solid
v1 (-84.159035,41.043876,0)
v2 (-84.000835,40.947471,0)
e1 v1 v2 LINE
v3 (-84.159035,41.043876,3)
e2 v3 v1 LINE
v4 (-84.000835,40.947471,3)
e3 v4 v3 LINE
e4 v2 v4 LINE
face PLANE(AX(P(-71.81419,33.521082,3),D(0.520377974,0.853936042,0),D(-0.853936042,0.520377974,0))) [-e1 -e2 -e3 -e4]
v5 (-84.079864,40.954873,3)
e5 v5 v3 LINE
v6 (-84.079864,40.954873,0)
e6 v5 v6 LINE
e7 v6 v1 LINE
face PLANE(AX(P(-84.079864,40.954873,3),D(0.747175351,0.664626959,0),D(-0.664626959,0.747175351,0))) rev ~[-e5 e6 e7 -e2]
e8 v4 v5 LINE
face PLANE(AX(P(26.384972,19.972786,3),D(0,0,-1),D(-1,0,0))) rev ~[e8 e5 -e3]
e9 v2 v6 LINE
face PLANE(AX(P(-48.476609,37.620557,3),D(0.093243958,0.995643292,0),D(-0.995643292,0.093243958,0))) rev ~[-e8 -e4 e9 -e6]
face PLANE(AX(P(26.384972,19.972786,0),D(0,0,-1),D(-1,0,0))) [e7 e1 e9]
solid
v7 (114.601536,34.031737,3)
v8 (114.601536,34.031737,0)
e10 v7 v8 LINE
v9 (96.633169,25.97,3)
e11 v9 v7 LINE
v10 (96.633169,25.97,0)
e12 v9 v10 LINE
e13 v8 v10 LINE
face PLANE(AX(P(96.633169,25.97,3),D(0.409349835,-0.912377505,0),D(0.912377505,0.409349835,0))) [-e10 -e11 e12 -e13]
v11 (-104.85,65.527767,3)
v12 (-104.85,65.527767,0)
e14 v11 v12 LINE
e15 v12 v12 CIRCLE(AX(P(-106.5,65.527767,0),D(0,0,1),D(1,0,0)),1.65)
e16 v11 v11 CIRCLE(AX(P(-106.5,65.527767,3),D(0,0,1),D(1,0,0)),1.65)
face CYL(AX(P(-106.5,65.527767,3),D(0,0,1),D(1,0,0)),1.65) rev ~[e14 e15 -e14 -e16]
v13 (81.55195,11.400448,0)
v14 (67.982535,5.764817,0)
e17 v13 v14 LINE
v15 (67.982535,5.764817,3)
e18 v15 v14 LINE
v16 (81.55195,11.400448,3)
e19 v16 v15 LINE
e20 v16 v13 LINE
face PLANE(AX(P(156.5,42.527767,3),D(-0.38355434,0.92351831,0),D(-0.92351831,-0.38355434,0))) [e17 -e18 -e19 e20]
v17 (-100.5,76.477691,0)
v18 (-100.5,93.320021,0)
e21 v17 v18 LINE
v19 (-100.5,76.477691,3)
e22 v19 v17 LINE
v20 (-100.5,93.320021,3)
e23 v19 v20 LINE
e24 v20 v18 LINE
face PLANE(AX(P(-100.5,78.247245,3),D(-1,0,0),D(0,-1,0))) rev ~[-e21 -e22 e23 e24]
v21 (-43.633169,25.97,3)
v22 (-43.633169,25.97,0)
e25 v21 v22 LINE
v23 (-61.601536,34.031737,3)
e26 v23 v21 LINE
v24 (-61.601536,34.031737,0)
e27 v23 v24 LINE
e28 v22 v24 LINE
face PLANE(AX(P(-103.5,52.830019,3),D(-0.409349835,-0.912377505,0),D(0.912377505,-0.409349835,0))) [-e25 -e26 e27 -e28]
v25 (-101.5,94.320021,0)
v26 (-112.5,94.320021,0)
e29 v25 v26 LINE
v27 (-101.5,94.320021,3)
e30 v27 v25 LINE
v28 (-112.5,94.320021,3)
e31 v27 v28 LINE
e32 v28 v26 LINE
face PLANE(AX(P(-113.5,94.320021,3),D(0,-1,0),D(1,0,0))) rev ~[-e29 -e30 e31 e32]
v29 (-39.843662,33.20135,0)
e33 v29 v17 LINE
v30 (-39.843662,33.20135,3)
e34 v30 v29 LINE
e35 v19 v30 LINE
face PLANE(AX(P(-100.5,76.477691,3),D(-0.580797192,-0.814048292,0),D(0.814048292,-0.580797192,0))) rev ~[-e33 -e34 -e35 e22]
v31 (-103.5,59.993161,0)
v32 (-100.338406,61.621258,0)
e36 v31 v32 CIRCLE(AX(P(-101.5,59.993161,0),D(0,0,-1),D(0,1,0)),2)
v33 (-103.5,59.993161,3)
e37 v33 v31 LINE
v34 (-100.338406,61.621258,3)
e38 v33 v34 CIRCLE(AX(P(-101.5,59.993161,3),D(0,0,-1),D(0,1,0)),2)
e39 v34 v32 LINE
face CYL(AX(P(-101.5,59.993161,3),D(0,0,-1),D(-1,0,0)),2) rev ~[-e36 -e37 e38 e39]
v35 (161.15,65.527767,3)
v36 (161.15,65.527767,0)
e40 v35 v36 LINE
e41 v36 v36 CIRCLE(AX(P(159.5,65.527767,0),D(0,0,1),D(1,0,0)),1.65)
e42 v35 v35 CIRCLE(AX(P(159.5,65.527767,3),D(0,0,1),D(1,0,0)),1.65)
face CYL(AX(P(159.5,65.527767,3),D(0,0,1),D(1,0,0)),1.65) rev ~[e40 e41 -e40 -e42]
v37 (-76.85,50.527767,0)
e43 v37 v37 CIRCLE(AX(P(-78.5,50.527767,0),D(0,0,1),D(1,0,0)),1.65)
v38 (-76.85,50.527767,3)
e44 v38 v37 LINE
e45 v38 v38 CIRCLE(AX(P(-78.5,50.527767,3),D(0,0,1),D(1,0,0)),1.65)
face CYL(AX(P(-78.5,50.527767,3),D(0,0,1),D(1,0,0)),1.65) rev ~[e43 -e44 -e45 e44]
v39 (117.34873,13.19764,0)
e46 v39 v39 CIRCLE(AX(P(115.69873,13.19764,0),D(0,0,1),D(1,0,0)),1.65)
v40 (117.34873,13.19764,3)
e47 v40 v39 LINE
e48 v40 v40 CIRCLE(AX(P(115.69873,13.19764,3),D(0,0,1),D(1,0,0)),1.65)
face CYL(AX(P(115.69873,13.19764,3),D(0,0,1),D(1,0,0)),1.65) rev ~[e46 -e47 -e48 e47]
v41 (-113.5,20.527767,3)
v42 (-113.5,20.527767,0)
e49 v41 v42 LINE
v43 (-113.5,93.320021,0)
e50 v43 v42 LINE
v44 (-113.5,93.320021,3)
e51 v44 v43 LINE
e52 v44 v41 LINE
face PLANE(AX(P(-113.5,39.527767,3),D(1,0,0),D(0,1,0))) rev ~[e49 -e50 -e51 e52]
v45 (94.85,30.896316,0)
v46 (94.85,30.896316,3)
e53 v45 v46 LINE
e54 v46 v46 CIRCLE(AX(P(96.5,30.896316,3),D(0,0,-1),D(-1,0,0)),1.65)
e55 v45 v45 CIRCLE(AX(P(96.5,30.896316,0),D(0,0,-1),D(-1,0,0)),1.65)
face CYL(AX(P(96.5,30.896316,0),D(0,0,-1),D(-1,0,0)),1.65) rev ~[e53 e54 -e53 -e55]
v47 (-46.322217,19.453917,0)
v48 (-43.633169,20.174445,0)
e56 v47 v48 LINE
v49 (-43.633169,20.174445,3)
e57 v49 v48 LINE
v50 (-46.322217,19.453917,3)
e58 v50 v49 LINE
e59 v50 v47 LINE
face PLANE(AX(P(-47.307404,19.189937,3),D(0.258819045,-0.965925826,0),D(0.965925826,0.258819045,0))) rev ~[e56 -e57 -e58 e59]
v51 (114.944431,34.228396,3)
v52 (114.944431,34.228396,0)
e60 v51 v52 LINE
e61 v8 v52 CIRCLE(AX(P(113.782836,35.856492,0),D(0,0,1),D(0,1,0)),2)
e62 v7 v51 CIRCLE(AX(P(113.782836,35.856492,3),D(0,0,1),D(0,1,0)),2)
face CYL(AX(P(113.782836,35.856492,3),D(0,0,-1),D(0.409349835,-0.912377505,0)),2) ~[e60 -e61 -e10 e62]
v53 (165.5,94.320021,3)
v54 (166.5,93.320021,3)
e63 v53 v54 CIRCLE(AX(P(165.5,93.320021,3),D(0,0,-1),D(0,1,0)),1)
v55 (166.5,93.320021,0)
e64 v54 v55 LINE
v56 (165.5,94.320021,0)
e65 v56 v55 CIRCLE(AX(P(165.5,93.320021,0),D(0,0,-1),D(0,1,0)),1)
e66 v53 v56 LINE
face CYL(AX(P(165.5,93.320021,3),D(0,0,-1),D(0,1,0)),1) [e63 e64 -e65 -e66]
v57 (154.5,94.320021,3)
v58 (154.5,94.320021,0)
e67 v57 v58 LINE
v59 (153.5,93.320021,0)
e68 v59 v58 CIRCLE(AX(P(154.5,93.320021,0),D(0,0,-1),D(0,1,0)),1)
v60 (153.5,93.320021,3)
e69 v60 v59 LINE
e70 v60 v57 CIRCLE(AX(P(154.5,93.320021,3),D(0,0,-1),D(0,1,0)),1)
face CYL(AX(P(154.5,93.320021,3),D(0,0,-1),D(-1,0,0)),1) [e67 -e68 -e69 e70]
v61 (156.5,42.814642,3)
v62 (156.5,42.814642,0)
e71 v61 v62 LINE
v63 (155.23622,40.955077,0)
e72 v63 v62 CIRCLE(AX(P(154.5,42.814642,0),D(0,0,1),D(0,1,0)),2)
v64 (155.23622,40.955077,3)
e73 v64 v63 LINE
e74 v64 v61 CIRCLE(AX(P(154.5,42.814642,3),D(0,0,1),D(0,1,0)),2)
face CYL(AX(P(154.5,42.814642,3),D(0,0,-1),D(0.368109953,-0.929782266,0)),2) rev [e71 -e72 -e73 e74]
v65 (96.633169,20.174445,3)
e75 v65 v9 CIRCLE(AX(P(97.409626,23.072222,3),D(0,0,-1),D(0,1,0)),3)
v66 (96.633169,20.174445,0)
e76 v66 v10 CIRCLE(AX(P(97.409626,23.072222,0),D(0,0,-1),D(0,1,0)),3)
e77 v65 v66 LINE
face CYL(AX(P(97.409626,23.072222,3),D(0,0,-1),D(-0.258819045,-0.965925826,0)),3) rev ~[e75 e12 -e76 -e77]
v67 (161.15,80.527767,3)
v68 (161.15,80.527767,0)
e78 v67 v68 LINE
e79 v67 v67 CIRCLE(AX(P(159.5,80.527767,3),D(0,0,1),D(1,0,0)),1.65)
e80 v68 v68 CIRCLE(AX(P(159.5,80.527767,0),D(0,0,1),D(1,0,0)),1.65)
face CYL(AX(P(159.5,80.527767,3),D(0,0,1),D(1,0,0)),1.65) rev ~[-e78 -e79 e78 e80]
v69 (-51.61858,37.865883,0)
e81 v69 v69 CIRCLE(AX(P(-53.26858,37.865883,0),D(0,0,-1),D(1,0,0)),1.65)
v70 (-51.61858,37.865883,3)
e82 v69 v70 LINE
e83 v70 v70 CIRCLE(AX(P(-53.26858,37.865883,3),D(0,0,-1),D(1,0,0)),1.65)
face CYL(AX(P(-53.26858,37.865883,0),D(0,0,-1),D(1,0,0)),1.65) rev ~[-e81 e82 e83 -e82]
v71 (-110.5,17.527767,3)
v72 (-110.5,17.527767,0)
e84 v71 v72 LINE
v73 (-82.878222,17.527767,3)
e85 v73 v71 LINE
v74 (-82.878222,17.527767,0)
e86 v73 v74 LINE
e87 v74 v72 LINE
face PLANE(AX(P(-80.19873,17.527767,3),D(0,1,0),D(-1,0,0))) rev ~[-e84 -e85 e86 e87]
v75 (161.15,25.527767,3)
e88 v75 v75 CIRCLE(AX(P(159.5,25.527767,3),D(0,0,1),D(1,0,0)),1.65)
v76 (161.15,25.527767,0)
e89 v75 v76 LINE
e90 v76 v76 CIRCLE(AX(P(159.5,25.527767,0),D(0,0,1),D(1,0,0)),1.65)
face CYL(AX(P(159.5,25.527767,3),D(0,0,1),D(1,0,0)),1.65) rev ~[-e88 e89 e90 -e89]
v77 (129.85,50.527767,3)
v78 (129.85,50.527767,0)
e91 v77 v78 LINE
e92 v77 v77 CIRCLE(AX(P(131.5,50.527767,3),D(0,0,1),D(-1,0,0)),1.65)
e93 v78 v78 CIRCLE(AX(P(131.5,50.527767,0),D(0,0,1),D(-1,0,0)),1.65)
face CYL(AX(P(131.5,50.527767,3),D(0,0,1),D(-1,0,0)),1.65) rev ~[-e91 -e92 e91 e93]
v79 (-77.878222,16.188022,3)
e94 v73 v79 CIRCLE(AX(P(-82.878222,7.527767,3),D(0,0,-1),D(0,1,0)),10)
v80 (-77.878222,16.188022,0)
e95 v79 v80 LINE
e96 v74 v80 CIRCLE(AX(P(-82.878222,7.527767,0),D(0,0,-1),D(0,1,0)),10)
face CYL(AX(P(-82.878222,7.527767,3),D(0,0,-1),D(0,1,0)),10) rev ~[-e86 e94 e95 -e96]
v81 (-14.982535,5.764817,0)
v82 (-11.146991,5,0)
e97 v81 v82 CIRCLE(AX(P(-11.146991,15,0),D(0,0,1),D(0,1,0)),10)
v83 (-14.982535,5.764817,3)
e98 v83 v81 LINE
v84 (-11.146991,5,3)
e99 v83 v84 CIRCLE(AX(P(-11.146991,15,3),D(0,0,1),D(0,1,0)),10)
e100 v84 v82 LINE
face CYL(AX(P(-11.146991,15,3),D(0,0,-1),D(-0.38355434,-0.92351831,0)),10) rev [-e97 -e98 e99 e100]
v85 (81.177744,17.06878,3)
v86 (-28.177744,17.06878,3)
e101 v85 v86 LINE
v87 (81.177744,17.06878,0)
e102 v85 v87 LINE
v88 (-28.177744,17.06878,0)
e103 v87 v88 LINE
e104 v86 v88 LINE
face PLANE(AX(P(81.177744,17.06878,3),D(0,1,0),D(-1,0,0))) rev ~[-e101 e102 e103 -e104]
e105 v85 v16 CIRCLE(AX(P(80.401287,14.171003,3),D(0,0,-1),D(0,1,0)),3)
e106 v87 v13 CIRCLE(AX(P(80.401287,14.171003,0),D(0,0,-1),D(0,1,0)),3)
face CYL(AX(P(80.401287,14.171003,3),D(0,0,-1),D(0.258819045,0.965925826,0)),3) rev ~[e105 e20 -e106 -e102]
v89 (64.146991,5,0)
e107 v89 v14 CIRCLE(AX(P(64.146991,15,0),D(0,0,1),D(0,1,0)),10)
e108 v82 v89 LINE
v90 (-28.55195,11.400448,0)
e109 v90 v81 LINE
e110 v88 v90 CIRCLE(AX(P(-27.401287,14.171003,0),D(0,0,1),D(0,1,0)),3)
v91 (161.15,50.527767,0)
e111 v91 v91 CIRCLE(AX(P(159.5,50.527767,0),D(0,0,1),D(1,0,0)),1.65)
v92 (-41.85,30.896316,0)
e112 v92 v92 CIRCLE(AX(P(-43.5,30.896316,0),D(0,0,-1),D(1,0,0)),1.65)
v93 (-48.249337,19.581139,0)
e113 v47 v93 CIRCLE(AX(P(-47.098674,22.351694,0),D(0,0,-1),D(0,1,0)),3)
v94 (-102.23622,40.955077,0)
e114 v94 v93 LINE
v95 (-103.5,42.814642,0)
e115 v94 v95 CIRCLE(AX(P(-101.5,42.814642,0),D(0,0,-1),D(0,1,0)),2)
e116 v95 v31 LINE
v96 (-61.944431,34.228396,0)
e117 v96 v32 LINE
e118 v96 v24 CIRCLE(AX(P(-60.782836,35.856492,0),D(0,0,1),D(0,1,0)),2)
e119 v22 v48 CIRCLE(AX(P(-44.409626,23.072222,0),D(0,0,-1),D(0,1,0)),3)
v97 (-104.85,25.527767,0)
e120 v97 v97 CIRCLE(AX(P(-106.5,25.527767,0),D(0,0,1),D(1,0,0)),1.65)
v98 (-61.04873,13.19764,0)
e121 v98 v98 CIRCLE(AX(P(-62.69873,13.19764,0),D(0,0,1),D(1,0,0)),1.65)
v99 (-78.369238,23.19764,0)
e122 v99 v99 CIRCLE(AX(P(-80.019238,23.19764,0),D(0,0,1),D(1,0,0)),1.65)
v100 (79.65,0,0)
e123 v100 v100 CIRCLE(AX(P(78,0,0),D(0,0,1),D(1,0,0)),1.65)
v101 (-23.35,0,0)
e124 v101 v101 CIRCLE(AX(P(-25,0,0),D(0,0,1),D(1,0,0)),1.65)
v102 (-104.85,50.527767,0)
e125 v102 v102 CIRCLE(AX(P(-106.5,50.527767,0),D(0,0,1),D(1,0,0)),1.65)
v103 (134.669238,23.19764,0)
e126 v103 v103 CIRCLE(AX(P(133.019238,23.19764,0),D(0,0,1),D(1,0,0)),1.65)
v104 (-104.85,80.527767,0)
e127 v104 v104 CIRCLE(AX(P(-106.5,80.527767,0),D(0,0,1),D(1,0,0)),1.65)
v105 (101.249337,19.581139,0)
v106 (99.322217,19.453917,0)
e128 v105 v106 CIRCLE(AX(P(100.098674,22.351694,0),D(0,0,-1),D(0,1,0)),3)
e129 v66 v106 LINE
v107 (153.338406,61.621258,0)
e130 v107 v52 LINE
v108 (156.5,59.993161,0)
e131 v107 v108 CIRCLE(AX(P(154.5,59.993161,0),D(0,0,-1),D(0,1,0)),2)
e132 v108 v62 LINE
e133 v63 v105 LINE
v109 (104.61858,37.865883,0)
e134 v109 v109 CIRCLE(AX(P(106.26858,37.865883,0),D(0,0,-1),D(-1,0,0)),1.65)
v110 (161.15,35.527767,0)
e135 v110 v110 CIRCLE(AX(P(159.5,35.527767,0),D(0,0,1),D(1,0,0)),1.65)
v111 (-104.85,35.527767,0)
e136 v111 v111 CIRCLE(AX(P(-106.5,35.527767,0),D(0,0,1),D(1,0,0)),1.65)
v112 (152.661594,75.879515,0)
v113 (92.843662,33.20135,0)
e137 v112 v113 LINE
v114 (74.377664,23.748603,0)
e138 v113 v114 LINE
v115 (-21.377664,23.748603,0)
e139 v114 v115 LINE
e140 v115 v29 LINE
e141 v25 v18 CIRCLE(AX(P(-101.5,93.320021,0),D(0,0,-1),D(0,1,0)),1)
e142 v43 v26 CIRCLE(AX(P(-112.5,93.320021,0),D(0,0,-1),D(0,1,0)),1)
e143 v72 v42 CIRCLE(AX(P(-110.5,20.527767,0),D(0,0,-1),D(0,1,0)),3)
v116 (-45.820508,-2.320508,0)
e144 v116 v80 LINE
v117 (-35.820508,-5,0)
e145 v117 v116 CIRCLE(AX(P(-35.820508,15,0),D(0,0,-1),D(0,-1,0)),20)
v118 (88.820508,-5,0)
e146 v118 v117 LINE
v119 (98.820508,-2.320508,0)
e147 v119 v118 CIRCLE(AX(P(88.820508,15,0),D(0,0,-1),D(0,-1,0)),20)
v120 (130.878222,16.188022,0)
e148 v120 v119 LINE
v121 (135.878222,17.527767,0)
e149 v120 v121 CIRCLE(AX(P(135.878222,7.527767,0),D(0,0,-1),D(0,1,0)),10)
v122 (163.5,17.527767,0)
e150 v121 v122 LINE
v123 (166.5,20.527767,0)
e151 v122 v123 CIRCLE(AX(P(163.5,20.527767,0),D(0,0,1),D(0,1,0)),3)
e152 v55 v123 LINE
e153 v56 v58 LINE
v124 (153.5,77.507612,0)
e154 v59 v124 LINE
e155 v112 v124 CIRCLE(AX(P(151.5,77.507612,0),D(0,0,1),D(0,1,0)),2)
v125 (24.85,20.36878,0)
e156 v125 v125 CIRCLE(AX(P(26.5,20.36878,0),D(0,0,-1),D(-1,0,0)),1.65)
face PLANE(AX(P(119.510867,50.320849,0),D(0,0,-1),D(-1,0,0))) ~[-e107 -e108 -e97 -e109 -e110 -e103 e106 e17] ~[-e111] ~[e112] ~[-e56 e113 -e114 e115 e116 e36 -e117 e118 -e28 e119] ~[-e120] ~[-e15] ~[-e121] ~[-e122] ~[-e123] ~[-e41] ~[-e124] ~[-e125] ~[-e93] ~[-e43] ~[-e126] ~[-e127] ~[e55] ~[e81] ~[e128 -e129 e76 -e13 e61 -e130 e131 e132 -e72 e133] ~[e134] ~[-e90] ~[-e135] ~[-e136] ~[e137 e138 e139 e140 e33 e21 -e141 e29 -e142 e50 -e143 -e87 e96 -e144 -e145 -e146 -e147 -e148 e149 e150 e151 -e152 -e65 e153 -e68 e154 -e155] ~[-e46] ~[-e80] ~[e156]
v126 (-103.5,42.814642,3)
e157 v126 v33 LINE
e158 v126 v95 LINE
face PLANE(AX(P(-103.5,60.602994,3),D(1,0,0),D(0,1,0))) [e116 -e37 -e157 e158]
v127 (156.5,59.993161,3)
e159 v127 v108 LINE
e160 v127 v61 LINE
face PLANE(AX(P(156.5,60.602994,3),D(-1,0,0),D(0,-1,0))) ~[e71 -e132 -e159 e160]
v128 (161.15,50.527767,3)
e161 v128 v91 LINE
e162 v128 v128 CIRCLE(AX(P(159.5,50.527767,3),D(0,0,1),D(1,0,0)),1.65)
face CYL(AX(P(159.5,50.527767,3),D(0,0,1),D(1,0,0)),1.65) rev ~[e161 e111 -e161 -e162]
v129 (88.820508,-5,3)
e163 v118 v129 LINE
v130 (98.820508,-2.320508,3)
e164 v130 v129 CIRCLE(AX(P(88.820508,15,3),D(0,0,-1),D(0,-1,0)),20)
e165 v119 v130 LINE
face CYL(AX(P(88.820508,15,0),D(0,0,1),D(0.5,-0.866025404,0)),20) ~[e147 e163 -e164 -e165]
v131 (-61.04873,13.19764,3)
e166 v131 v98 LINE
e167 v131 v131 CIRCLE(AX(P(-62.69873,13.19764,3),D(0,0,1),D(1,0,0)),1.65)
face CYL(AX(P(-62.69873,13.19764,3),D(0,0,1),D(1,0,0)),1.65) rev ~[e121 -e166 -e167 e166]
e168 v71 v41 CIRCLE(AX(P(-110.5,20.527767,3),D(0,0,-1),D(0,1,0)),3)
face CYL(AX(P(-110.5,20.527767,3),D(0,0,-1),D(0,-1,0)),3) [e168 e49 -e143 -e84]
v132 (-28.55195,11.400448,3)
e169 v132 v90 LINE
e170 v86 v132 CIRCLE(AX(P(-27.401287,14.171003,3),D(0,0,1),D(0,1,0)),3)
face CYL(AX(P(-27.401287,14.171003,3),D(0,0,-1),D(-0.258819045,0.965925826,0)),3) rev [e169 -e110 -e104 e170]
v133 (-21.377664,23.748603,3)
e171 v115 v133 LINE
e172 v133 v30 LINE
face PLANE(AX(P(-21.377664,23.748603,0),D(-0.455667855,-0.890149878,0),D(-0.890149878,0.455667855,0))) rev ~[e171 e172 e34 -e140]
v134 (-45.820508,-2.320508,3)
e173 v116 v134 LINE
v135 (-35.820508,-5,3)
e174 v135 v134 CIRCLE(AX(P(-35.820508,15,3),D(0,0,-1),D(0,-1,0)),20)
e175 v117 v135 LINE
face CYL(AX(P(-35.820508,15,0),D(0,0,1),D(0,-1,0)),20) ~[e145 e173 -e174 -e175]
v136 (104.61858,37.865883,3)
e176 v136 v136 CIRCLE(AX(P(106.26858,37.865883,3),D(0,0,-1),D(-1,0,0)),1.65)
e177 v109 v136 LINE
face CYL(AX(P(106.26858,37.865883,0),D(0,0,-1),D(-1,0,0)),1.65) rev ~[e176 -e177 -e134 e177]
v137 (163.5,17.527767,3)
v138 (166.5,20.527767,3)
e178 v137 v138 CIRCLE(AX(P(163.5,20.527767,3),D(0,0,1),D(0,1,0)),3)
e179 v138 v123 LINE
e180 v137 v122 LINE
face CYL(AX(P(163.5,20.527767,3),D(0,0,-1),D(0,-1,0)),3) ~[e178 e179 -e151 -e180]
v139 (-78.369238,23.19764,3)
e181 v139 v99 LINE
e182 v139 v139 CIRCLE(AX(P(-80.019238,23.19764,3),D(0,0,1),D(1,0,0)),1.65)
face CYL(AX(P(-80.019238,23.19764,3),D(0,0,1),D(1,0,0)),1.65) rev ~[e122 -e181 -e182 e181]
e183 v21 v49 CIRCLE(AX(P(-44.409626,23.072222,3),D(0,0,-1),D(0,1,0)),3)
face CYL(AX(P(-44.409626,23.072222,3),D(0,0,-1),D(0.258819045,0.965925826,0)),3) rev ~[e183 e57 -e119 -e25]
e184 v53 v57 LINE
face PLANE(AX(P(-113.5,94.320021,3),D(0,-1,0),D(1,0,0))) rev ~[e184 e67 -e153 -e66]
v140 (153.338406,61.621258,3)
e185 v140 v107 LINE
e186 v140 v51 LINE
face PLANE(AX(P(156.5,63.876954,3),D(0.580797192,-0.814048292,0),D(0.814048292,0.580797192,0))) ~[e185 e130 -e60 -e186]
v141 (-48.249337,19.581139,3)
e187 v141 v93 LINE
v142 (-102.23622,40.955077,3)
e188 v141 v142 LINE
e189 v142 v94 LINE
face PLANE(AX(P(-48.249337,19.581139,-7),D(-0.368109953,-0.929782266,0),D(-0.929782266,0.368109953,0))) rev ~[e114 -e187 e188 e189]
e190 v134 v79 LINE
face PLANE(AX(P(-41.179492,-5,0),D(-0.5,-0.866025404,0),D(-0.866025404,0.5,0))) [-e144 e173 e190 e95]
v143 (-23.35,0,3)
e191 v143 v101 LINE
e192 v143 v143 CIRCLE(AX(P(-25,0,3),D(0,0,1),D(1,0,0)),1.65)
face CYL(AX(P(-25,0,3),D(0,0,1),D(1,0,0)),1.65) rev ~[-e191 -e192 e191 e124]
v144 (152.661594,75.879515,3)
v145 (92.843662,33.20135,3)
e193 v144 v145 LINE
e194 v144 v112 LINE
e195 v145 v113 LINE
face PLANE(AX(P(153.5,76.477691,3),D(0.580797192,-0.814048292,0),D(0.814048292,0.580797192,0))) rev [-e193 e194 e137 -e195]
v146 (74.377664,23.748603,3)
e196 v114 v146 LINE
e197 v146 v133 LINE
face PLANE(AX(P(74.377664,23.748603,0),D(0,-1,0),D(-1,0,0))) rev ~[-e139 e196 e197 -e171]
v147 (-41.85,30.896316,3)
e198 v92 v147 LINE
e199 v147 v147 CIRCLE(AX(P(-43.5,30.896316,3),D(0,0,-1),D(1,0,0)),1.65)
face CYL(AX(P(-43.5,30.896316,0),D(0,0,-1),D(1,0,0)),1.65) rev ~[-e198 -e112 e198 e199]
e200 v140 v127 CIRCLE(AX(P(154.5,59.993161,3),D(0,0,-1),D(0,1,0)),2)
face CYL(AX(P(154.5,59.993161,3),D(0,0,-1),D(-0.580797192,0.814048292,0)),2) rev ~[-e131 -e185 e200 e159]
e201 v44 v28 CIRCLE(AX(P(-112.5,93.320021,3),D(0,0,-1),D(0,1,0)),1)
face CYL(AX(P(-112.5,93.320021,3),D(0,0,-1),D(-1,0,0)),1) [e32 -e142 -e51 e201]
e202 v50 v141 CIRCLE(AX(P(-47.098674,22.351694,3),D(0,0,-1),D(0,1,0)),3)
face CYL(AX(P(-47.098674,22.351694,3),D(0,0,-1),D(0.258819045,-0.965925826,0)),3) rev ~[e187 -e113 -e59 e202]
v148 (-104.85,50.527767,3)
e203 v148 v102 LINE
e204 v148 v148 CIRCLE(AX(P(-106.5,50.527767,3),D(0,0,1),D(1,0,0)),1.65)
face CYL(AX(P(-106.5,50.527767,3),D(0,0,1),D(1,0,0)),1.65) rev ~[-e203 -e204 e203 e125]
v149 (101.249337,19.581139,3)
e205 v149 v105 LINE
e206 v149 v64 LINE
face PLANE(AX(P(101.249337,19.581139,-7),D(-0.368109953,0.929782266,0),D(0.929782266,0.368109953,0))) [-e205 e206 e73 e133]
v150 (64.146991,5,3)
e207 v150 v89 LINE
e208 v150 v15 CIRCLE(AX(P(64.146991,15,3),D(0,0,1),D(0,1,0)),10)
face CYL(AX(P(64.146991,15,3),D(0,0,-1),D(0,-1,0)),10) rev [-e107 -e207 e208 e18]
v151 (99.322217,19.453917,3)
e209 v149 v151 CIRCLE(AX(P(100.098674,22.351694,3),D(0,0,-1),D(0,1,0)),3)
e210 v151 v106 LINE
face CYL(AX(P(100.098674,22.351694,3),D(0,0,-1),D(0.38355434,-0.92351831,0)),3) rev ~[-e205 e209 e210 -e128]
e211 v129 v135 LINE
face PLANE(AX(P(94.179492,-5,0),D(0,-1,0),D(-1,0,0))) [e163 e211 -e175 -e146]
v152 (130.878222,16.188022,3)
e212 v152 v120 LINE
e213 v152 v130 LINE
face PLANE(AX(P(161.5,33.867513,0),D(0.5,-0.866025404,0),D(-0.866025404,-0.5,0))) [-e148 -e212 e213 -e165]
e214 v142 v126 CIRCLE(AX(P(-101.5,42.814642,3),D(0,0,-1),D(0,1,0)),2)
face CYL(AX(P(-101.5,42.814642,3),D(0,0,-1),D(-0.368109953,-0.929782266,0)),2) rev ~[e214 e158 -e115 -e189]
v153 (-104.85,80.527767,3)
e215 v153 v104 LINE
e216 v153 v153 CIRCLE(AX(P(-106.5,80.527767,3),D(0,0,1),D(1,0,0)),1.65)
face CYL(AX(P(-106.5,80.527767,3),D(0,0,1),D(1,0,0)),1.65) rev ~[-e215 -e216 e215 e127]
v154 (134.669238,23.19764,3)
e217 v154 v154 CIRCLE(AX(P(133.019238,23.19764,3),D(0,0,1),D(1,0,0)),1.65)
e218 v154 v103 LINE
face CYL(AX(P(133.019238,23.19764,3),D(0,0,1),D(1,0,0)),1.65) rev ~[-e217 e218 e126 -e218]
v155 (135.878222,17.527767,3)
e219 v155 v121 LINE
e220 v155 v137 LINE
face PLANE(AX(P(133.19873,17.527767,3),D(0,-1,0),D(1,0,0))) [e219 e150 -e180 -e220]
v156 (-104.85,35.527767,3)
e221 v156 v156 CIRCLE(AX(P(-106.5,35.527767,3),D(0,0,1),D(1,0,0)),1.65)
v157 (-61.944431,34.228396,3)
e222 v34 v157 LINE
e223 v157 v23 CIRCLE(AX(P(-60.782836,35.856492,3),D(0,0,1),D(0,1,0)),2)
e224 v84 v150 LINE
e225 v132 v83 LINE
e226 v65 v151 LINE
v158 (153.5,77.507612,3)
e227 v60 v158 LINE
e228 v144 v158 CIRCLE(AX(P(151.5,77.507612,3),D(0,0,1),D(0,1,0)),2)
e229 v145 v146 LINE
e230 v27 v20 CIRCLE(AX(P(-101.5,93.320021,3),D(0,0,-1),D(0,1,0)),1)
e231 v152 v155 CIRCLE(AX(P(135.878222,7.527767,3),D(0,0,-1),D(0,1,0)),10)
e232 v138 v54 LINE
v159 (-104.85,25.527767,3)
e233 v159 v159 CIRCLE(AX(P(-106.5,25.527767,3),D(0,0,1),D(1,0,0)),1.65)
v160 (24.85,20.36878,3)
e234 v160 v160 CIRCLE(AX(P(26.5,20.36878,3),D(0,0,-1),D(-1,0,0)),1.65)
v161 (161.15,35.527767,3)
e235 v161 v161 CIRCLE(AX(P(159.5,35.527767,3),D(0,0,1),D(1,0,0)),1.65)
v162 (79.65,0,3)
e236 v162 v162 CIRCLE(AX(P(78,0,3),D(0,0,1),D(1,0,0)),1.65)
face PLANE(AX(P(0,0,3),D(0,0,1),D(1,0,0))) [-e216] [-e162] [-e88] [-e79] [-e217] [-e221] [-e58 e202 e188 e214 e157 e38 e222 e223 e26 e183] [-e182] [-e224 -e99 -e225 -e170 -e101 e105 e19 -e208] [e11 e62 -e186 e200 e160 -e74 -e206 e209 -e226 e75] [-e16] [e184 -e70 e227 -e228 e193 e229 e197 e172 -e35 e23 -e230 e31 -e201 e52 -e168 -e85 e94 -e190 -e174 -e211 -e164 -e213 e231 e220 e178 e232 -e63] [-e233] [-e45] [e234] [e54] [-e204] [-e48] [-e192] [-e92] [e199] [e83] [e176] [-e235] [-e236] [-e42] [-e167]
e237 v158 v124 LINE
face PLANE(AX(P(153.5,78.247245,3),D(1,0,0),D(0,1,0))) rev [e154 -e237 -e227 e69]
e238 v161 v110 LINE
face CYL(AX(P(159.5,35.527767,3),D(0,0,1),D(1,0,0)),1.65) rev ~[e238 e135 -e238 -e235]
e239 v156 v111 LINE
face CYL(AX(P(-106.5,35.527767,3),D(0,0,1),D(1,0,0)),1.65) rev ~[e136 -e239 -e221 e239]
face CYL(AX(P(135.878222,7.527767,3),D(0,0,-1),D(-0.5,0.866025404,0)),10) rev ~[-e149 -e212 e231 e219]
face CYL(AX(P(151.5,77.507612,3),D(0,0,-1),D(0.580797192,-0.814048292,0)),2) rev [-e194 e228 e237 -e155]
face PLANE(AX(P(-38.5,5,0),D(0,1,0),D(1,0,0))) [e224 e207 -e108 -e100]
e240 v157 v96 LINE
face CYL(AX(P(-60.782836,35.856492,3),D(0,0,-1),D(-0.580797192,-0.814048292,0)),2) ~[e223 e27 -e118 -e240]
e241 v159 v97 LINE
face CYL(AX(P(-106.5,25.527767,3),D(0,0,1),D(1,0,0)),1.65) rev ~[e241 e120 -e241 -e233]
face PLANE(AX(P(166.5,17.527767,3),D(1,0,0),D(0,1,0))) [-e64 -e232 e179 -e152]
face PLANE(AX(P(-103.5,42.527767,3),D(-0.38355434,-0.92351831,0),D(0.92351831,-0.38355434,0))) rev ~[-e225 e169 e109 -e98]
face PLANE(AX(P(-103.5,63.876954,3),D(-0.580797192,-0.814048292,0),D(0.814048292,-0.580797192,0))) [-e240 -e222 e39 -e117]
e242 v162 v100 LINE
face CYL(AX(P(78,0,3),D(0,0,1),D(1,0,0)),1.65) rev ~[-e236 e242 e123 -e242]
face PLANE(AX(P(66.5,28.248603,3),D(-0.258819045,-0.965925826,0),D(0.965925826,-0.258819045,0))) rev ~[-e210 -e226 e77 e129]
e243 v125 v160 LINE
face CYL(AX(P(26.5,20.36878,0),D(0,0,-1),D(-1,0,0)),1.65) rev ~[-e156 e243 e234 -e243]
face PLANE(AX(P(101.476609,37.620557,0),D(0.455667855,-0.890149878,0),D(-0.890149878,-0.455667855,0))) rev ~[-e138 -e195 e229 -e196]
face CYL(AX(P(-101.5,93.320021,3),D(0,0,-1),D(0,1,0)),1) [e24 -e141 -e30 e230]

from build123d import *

# Parameters (mm, degrees)
SKETCH_1_R           = 1.65
EXTRUDE_1_DEPTH      = 3
FILLET_1_R           = 20
SKETCH_2_R           = 1.65
CUT_EXTRUDE_1_DEPTH  = 10
EXTRUDE_2_DEPTH      = 3
FILLET_2_R           = 10
EXTRUDE_3_DEPTH      = 3
FILLET_3_R           = 10
FILLET_4_R           = 3
SKETCH_6_R           = 1.65
CUT_EXTRUDE_2_DEPTH  = 5
EXTRUDE_4_DEPTH      = 3
SKETCH_8_R           = 1.65
CUT_EXTRUDE_3_DEPTH  = 10
EXTRUDE_5_DEPTH      = 3
FILLET_5_R           = 3
EXTRUDE_6_DEPTH      = 3
FILLET_6_R           = 2
SKETCH_11_W          = 10
SKETCH_11_H          = 67.386751346
EXTRUDE_7_DEPTH      = 3
SKETCH_14_W          = 280
SKETCH_14_H          = 9.594497852
CUT_EXTRUDE_6_DEPTH  = 30
CUT_EXTRUDE_START    = -10
CUT_EXTRUDE_7_DEPTH  = 10
EXTRUDE_12_DEPTH     = 3
EXTRUDE_15_DEPTH     = 3
CUT_EXTRUDE_10_DEPTH = 10
SKETCH_22_W          = 10
SKETCH_22_H          = 17.468473847
EXTRUDE_16_DEPTH     = 3
CUT_EXTRUDE_11_DEPTH = 10
CUT_EXTRUDE_12_DEPTH = 10
SKETCH_25_W          = 280
SKETCH_25_H          = 3
CUT_EXTRUDE_13_DEPTH = 10
SKETCH_26_W          = 3
SKETCH_26_H          = 35
EXTRUDE_17_DEPTH     = 3
SKETCH_27_R          = 1.65
CUT_EXTRUDE_14_DEPTH = 10
FILLET_7_R           = 1
SKETCH_28_R          = 1.65
EXTRUDE_18_DEPTH     = 3
EXTRUDE_19_DEPTH     = 3
EXTRUDE_20_DEPTH     = 3
CUT_EXTRUDE_15_DEPTH = 192.383166344
CUT_EXTRUDE_16_DEPTH = 192.383166344
SKETCH_33_R          = 1.65
CUT_EXTRUDE_17_DEPTH = 192.383166344
FILLET_8_R           = 2
SKETCH_34_R          = 1.65
EXTRUDE_21_DEPTH     = 3
SKETCH_35_R          = 1.65
CUT_EXTRUDE_18_DEPTH = 10
SKETCH_36_R          = 1.65
CUT_EXTRUDE_19_DEPTH = 10


with BuildPart() as part:
    # 草图1 → 凸台-拉伸1 (new body)
    with BuildSketch(Plane.XY):
        Polygon((91.5, 5), (156.5, 42.527767497), (161.5, 33.867513459), (94.179491924, -5), (-41.179491924, -5), (-108.5, 33.867513459), (-103.5, 42.527767497), (-38.5, 5), align=None)
        with Locations((53, 0)):
            Circle(SKETCH_1_R, mode=Mode.SUBTRACT)
        Circle(SKETCH_1_R, mode=Mode.SUBTRACT)
    extrude(amount=EXTRUDE_1_DEPTH)

    # 圆角1
    fillet_1_edges = [part.edges().sort_by_distance(p)[0] for p in [
        (94.179491924, -5, 1.5),
        (-41.179491924, -5, 1.5),
        (-38.5, 5, 1.5),
        (91.5, 5, 1.5),
    ]]
    fillet(fillet_1_edges, radius=FILLET_1_R)

    # 草图2 → 切除-拉伸1 (cut)
    with BuildSketch(Plane.XY.offset(3)):
        with Locations((-62.698729811, 13.197640478)):
            Circle(SKETCH_2_R)
        with Locations((-80.019237886, 23.197640478)):
            Circle(SKETCH_2_R)
        with Locations((133.019237886, 23.197640478)):
            Circle(SKETCH_2_R)
        with Locations((115.698729811, 13.197640478)):
            Circle(SKETCH_2_R)
        with Locations((-25, 0)):
            Circle(SKETCH_2_R)
        with Locations((78, 0)):
            Circle(SKETCH_2_R)
    extrude(amount=-CUT_EXTRUDE_1_DEPTH, mode=Mode.SUBTRACT)

    # 草图3 → 凸台-拉伸2 (add)
    with BuildSketch(Plane.XY.offset(3)):
        with BuildLine():
            Line((-103.5, 42.527767497), (-13.141016151, 5))
            Line((-13.141016151, 5), (-33.141016151, 5))
            ThreePointArc((-33.141016151, 5), (-38.317397053, 5.681483474), (-43.141016151, 7.679491924))
            Line((-43.141016151, 7.679491924), (-103.5, 42.527767497))
        make_face()
        with BuildLine():
            Line((156.5, 42.527767497), (66.141016151, 5))
            Line((66.141016151, 5), (86.141016151, 5))
            ThreePointArc((86.141016151, 5), (91.317397053, 5.681483474), (96.141016151, 7.679491924))
            Line((96.141016151, 7.679491924), (156.5, 42.527767497))
        make_face()
    extrude(amount=-EXTRUDE_2_DEPTH)

    # 圆角2
    fillet_2_edges = [part.edges().sort_by_distance(p)[0] for p in [
        (66.141016151, 5, 1.5),
        (-13.141016151, 5, 1.5),
    ]]
    fillet(fillet_2_edges, radius=FILLET_2_R)

    # 草图4 → 凸台-拉伸3 (add)
    with BuildSketch(Plane.XY.offset(3)):
        Polygon((-103.5, 42.527767497), (-108.5, 33.867513459), (-80.198729811, 17.527767497), (-113.5, 17.527767497), (-113.5, 42.527767497), align=None)
        Polygon((166.5, 17.527767497), (166.5, 42.527767497), (156.5, 42.527767497), (161.5, 33.867513459), (133.198729811, 17.527767497), align=None)
    extrude(amount=-EXTRUDE_3_DEPTH)

    # 圆角3
    fillet_3_edges = [part.edges().sort_by_distance(p)[0] for p in [
        (-80.198729811, 17.527767497, 1.5),
        (133.198729811, 17.527767497, 1.5),
    ]]
    fillet(fillet_3_edges, radius=FILLET_3_R)

    # 圆角4
    fillet_4_edges = [part.edges().sort_by_distance(p)[0] for p in [
        (-113.5, 42.527767497, 1.5),
        (-113.5, 17.527767497, 1.5),
        (166.5, 17.527767497, 1.5),
        (166.5, 42.527767497, 1.5),
    ]]
    fillet(fillet_4_edges, radius=FILLET_4_R)

    # 草图6 → 切除-拉伸2 (cut)
    with BuildSketch(Plane.XY.offset(3)):
        with Locations((-106.5, 35.527767497)):
            Circle(SKETCH_6_R)
        with Locations((-106.5, 25.527767497)):
            Circle(SKETCH_6_R)
        with Locations((159.5, 25.527767497)):
            Circle(SKETCH_6_R)
        with Locations((159.5, 35.527767497)):
            Circle(SKETCH_6_R)
    extrude(amount=-CUT_EXTRUDE_2_DEPTH, mode=Mode.SUBTRACT)

    # 草图7 → 凸台-拉伸4 (add)
    with BuildSketch(Plane.XY.offset(3)):
        Polygon((-47.30740392, 19.189936648), (-13.5, 28.248603227), (26.5, 28.248603227), (66.5, 28.248603227), (100.30740392, 19.189936648), (98.495670604, 12.428455864), (65.578432517, 21.248603227), (26.5, 21.248603227), (-12.578432517, 21.248603227), (-45.495670604, 12.428455864), align=None)
    extrude(amount=-EXTRUDE_4_DEPTH)

    # 草图8 → 切除-拉伸3 (cut)
    with BuildSketch(Plane.XY.offset(3)):
        with Locations((-106.5, 25.527767497)):
            Circle(SKETCH_8_R)
        with Locations((-106.5, 35.527767497)):
            Circle(SKETCH_8_R)
        with Locations((-98.5, 35.527767497)):
            Circle(SKETCH_8_R)
        with Locations((-98.5, 25.527767497)):
            Circle(SKETCH_8_R)
        with Locations((151.5, 25.527767497)):
            Circle(SKETCH_8_R)
        with Locations((151.5, 35.527767497)):
            Circle(SKETCH_8_R)
        with Locations((159.5, 35.527767497)):
            Circle(SKETCH_8_R)
        with Locations((159.5, 25.527767497)):
            Circle(SKETCH_8_R)
    extrude(amount=-CUT_EXTRUDE_3_DEPTH, mode=Mode.SUBTRACT)

    # 草图9 → 凸台-拉伸5 (add)
    with BuildSketch(Plane.XY.offset(3)):
        Polygon((-13.5, 28.248603227), (-110.911809549, 54.350018929), (-113.5, 44.690760666), (-32.818516526, 23.072222325), align=None)
        Polygon((166.5, 44.690760666), (85.818516526, 23.072222325), (66.5, 28.248603227), (163.911809549, 54.350018929), align=None)
    extrude(amount=-EXTRUDE_5_DEPTH)

    # 圆角5
    fillet_5_edges = [part.edges().sort_by_distance(p)[0] for p in [
        (89.701118587, 14.784948975, 1.5),
        (-36.701118587, 14.784948975, 1.5),
        (-47.30740392, 19.189936648, 1.5),
        (-13.5, 28.248603227, 1.5),
        (66.5, 28.248603227, 1.5),
        (100.30740392, 19.189936648, 1.5),
        (65.578432517, 21.248603227, 1.5),
        (-12.578432517, 21.248603227, 1.5),
        (-32.818516526, 23.072222325, 1.5),
        (-113.5, 44.690760666, 1.5),
        (-110.911809549, 54.350018929, 1.5),
        (163.911809549, 54.350018929, 1.5),
        (166.5, 44.690760666, 1.5),
        (85.818516526, 23.072222325, 1.5),
    ]]
    fillet(fillet_5_edges, radius=FILLET_5_R)

    # 草图10 → 凸台-拉伸6 (add)
    with BuildSketch(Plane.XY.offset(3)):
        Polygon((-108.357699123, 67.863132863), (-113.5, 61.734777318), (-101.784601755, 51.904390971), (-83.5, 47.005046697), align=None)
        Polygon((136.5, 47.005046697), (161.357699123, 67.863132863), (166.5, 61.734777318), (154.784601755, 51.904390971), align=None)
    extrude(amount=-EXTRUDE_6_DEPTH)

    # 圆角6
    fillet_6_edges = [part.edges().sort_by_distance(p)[0] for p in [
        (161.357699123, 67.863132863, 1.5),
        (166.5, 61.734777318, 1.5),
        (154.784601755, 51.904390971, 1.5),
        (136.5, 47.005046697, 1.5),
        (-83.5, 47.005046697, 1.5),
        (-101.784601755, 51.904390971, 1.5),
        (-108.357699123, 67.863132863, 1.5),
        (-113.5, 61.734777318, 1.5),
    ]]
    fillet(fillet_6_edges, radius=FILLET_6_R)

    # 草图11 → 凸台-拉伸7 (add)
    with BuildSketch(Plane.XY.offset(3)):
        with Locations((-108.5, 73.22114317)):
            Rectangle(SKETCH_11_W, SKETCH_11_H)
        with Locations((161.5, 73.22114317)):
            Rectangle(SKETCH_11_W, SKETCH_11_H)
    extrude(amount=-EXTRUDE_7_DEPTH)

    # 草图14 → 切除-拉伸6 (cut)
    with BuildSketch(Plane.XY.offset(3)):
        with Locations((26.5, 102.117269917)):
            Rectangle(SKETCH_14_W, SKETCH_14_H)
    extrude(amount=-CUT_EXTRUDE_6_DEPTH, mode=Mode.SUBTRACT)

    # 草图15 → 切除-拉伸7 (cut)
    with BuildSketch(Plane.XY.offset(3).offset(CUT_EXTRUDE_START)):
        with BuildLine():
            Line((-48.249337431, 19.581139164), (-113.5, 45.414518843))
            Line((-113.5, 45.414518843), (-113.5, 58.923894244))
            Line((-113.5, 58.923894244), (-71.81419, 33.52108154))
            Line((-71.81419, 33.52108154), (-43.633169306, 25.969999804))
            ThreePointArc((-43.633169306, 25.969999804), (-41.409626441, 23.072222325), (-43.633169306, 20.174444846))
            Line((-43.633169306, 20.174444846), (-46.322217276, 19.453916614))
            ThreePointArc((-46.322217276, 19.453916614), (-47.29629502, 19.358210154), (-48.249337431, 19.581139164))
        make_face()
        with BuildLine():
            Line((124.81419, 33.52108154), (96.633169306, 25.969999804))
            ThreePointArc((96.633169306, 25.969999804), (94.409626441, 23.072222325), (96.633169306, 20.174444846))
            Line((96.633169306, 20.174444846), (99.322217276, 19.453916614))
            ThreePointArc((99.322217276, 19.453916614), (100.29629502, 19.358210154), (101.249337431, 19.581139164))
            Line((101.249337431, 19.581139164), (166.5, 45.414518843))
            Line((166.5, 45.414518843), (166.5, 58.923894244))
            Line((166.5, 58.923894244), (124.81419, 33.52108154))
        make_face()
    extrude(amount=CUT_EXTRUDE_7_DEPTH, mode=Mode.SUBTRACT)

    # 草图16 → 凸台-拉伸12 (add)
    with BuildSketch(Plane.XY.offset(3)):
        Polygon((-48.476609221, 37.620557422), (-84.079864377, 40.954872502), (-103.5, 62.787039321), (-103.5, 65.787039321), align=None)
        Polygon((101.476609221, 37.620557422), (136.723834597, 40.954872502), (156.5, 62.787039321), (156.5, 65.787039321), align=None)
    extrude(amount=-EXTRUDE_12_DEPTH)

    # 草图20 → 凸台-拉伸15 (add)
    with BuildSketch(Plane.XY.offset(3)):
        Polygon((81.177744498, 17.068780179), (-28.177744498, 17.068780179), (-12.183475024, 24.145273244), (57.513790466, 24.145273244), align=None)
    extrude(amount=-EXTRUDE_15_DEPTH)

    # 草图21 → 切除-拉伸10 (cut)
    with BuildSketch(Plane(origin=(0, 0, 0), x_dir=(-1, 0, 0), z_dir=(0, 0, -1))):
        Polygon((-101.476609221, 37.620557422), (-74.37766377, 23.748603227), (21.37766377, 23.748603227), (46.90096027, 36.81398249), align=None)
    extrude(amount=-CUT_EXTRUDE_10_DEPTH, mode=Mode.SUBTRACT)

    # 草图22 → 凸台-拉伸16 (add)
    with BuildSketch(Plane.XY.offset(3)):
        with Locations((-108.5, 50.189657321)):
            Rectangle(SKETCH_22_W, SKETCH_22_H)
        with Locations((161.5, 50.189657321)):
            Rectangle(SKETCH_22_W, SKETCH_22_H)
    extrude(amount=-EXTRUDE_16_DEPTH)

    # 草图23 → 切除-拉伸11 (cut)
    with BuildSketch(Plane.XY.offset(3)):
        Polygon((-103.5, 52.830018965), (-43.633169306, 25.969999804), (-71.81419, 33.52108154), align=None)
        Polygon((96.633169306, 25.969999804), (156.5, 52.830018965), (124.81419, 33.52108154), align=None)
    extrude(amount=-CUT_EXTRUDE_11_DEPTH, mode=Mode.SUBTRACT)


with BuildPart() as cut_extrude_11_piece_1:
    # of the separate pieces the step leaves, piece 1, a body of its own (cut_extrude_11_pieces)
    add(part.part.solids().sort_by_distance((-113.5, 20.527767497, 0))[0])

    # 草图24 → 切除-拉伸12 (cut)
    with BuildSketch(Plane.XY.offset(3)):
        Polygon((-46.90096027, 36.81398249), (-54.036757868, 40.466798338), (-39.643004165, 38.640390414), (-44.361834349, 35.514203554), align=None)
    extrude(amount=-CUT_EXTRUDE_12_DEPTH, mode=Mode.SUBTRACT)

    # 草图25 → 切除-拉伸13 (cut)
    with BuildSketch(Plane.XY.offset(3)):
        with Locations((26.5, 95.820020991)):
            Rectangle(SKETCH_25_W, SKETCH_25_H)
    extrude(amount=-CUT_EXTRUDE_13_DEPTH, mode=Mode.SUBTRACT)

    # 草图26 → 凸台-拉伸17 (add)
    with BuildSketch(Plane.XY.offset(3)):
        with Locations((-102, 76.820020991)):
            Rectangle(SKETCH_26_W, SKETCH_26_H)
        with Locations((155, 76.820020991)):
            Rectangle(SKETCH_26_W, SKETCH_26_H)
    extrude(amount=-EXTRUDE_17_DEPTH)

    # 草图27 → 切除-拉伸14 (cut)
    with BuildSketch(Plane.XY.offset(3)):
        with Locations((-106.5, 65.527767497)):
            Circle(SKETCH_27_R)
        with Locations((-106.5, 80.527767497)):
            Circle(SKETCH_27_R)
        with Locations((159.5, 65.527767497)):
            Circle(SKETCH_27_R)
        with Locations((159.5, 80.527767497)):
            Circle(SKETCH_27_R)
        with Locations((-106.5, 50.527767497)):
            Circle(SKETCH_27_R)
        with Locations((159.5, 50.527767497)):
            Circle(SKETCH_27_R)
    extrude(amount=-CUT_EXTRUDE_14_DEPTH, mode=Mode.SUBTRACT)

    # 圆角7
    fillet_7_edges = [cut_extrude_11_piece_1.edges().sort_by_distance(p)[0] for p in [
        (166.5, 94.320020991, 1.5),
        (-113.5, 94.320020991, 1.5),
        (-100.5, 94.320020991, 1.5),
        (153.5, 94.320020991, 1.5),
    ]]
    fillet(fillet_7_edges, radius=FILLET_7_R)

    # 草图28 → 凸台-拉伸18 (add)
    with BuildSketch(Plane.XY.offset(3)):
        with Locations((-98.5, 25.527767497)):
            Circle(SKETCH_28_R)
        with Locations((-98.5, 35.527767497)):
            Circle(SKETCH_28_R)
        with Locations((151.5, 25.527767497)):
            Circle(SKETCH_28_R)
        with Locations((151.5, 35.527767497)):
            Circle(SKETCH_28_R)
    extrude(amount=-EXTRUDE_18_DEPTH)

    # 草图29 → 凸台-拉伸19 (add)
    with BuildSketch(Plane.XY.offset(3)):
        Polygon((-100.5, 82.608021221), (-27.340106212, 23.016774833), (-43.633169306, 25.969999804), (-100.5, 72.289986667), align=None)
    extrude_19 = extrude(amount=-EXTRUDE_19_DEPTH)

    # 草图30 → 凸台-拉伸20 (add)
    with BuildSketch(Plane.XY.offset(3)):
        Polygon((-100.5, 72.289986667), (-100.5, 64.251338876), (-73.937741675, 50.6541149), align=None)
    extrude_20 = extrude(amount=-EXTRUDE_20_DEPTH)

    # 草图31 → 切除-拉伸15 (cut, through all)
    with BuildSketch(Plane.XY.offset(3)):
        Polygon((-103.5, 52.830018965), (-103.5, 60.602994456), (-53.194373168, 23.243964475), align=None)
        Polygon((-100.5, 82.608021221), (-100.5, 78.247244804), (-39.843661881, 33.201350398), align=None)
    cut_extrude_15 = extrude(amount=-CUT_EXTRUDE_15_DEPTH, mode=Mode.SUBTRACT)

    # 草图32 → 切除-拉伸16 (cut, through all)
    with BuildSketch(Plane.XY.offset(3)):
        Polygon((-103.5, 60.602994456), (-103.5, 63.876953661), (-61.782748262, 34.113040497), (-77.059364407, 40.967089687), align=None)
        Polygon((-100.5, 78.247244804), (-100.5, 76.477690651), (-39.843661881, 33.201350398), align=None)
    cut_extrude_16 = extrude(amount=-CUT_EXTRUDE_16_DEPTH, mode=Mode.SUBTRACT)

    # 镜向1: 凸台-拉伸19, 凸台-拉伸20, 切除-拉伸15, 切除-拉伸16 across plane
    add(extrude_19.mirror(Plane.ZY.offset(-26.5)))
    add(extrude_20.mirror(Plane.ZY.offset(-26.5)))
    add(cut_extrude_15.mirror(Plane.ZY.offset(-26.5)), mode=Mode.SUBTRACT)
    add(cut_extrude_16.mirror(Plane.ZY.offset(-26.5)), mode=Mode.SUBTRACT)

    # 草图33 → 切除-拉伸17 (cut, through all)
    with BuildSketch(Plane.XY.offset(3)):
        with Locations((-78.5, 50.527767497)):
            Circle(SKETCH_33_R)
        with Locations(Location((131.5, 50.527767497, 0), (0, 0, 180))):
            Circle(SKETCH_33_R)
    extrude(amount=-CUT_EXTRUDE_17_DEPTH, mode=Mode.SUBTRACT)

    # 圆角8
    fillet_8_edges = [cut_extrude_11_piece_1.edges().sort_by_distance(p)[0] for p in [
        (-103.5, 41.455420397, 1.5),
        (156.5, 41.455420397, 1.5),
        (-103.5, 63.876953661, 1.5),
        (-61.782748262, 34.113040497, 1.5),
        (153.5, 76.477690651, 1.5),
        (114.782748262, 34.113040497, 1.5),
        (156.5, 63.876953661, 1.5),
    ]]
    fillet(fillet_8_edges, radius=FILLET_8_R)

    # 草图34 → 凸台-拉伸21 (add)
    with BuildSketch(Plane.XY.offset(3)):
        Circle(SKETCH_34_R)
        with Locations((53, 0)):
            Circle(SKETCH_34_R)
    extrude(amount=-EXTRUDE_21_DEPTH)

    # 草图35 → 切除-拉伸18 (cut)
    with BuildSketch(Plane(origin=(0, 0, 0), x_dir=(-1, 0, 0), z_dir=(0, 0, -1))):
        with Locations((-106.268579503, 37.865882585)):
            Circle(SKETCH_35_R)
        with Locations((-96.5, 30.89631628)):
            Circle(SKETCH_35_R)
        with Locations(Location((43.5, 30.89631628, 0), (0, 0, 180))):
            Circle(SKETCH_35_R)
        with Locations(Location((53.268579503, 37.865882585, 0), (0, 0, 180))):
            Circle(SKETCH_35_R)
    extrude(amount=-CUT_EXTRUDE_18_DEPTH, mode=Mode.SUBTRACT)

    # 草图36 → 切除-拉伸19 (cut)
    with BuildSketch(Plane(origin=(0, 0, 0), x_dir=(-1, 0, 0), z_dir=(0, 0, -1))):
        with Locations((-26.5, 20.368780179)):
            Circle(SKETCH_36_R)
    extrude(amount=-CUT_EXTRUDE_19_DEPTH, mode=Mode.SUBTRACT)


with BuildPart() as cut_extrude_11_piece_2:
    # of the separate pieces the step leaves, piece 2, a body of its own (cut_extrude_11_pieces)
    add(part.part.solids().sort_by_distance((-84.079864377, 40.954872502, 0))[0])


solid = Compound([cut_extrude_11_piece_1.part, cut_extrude_11_piece_2.part])
